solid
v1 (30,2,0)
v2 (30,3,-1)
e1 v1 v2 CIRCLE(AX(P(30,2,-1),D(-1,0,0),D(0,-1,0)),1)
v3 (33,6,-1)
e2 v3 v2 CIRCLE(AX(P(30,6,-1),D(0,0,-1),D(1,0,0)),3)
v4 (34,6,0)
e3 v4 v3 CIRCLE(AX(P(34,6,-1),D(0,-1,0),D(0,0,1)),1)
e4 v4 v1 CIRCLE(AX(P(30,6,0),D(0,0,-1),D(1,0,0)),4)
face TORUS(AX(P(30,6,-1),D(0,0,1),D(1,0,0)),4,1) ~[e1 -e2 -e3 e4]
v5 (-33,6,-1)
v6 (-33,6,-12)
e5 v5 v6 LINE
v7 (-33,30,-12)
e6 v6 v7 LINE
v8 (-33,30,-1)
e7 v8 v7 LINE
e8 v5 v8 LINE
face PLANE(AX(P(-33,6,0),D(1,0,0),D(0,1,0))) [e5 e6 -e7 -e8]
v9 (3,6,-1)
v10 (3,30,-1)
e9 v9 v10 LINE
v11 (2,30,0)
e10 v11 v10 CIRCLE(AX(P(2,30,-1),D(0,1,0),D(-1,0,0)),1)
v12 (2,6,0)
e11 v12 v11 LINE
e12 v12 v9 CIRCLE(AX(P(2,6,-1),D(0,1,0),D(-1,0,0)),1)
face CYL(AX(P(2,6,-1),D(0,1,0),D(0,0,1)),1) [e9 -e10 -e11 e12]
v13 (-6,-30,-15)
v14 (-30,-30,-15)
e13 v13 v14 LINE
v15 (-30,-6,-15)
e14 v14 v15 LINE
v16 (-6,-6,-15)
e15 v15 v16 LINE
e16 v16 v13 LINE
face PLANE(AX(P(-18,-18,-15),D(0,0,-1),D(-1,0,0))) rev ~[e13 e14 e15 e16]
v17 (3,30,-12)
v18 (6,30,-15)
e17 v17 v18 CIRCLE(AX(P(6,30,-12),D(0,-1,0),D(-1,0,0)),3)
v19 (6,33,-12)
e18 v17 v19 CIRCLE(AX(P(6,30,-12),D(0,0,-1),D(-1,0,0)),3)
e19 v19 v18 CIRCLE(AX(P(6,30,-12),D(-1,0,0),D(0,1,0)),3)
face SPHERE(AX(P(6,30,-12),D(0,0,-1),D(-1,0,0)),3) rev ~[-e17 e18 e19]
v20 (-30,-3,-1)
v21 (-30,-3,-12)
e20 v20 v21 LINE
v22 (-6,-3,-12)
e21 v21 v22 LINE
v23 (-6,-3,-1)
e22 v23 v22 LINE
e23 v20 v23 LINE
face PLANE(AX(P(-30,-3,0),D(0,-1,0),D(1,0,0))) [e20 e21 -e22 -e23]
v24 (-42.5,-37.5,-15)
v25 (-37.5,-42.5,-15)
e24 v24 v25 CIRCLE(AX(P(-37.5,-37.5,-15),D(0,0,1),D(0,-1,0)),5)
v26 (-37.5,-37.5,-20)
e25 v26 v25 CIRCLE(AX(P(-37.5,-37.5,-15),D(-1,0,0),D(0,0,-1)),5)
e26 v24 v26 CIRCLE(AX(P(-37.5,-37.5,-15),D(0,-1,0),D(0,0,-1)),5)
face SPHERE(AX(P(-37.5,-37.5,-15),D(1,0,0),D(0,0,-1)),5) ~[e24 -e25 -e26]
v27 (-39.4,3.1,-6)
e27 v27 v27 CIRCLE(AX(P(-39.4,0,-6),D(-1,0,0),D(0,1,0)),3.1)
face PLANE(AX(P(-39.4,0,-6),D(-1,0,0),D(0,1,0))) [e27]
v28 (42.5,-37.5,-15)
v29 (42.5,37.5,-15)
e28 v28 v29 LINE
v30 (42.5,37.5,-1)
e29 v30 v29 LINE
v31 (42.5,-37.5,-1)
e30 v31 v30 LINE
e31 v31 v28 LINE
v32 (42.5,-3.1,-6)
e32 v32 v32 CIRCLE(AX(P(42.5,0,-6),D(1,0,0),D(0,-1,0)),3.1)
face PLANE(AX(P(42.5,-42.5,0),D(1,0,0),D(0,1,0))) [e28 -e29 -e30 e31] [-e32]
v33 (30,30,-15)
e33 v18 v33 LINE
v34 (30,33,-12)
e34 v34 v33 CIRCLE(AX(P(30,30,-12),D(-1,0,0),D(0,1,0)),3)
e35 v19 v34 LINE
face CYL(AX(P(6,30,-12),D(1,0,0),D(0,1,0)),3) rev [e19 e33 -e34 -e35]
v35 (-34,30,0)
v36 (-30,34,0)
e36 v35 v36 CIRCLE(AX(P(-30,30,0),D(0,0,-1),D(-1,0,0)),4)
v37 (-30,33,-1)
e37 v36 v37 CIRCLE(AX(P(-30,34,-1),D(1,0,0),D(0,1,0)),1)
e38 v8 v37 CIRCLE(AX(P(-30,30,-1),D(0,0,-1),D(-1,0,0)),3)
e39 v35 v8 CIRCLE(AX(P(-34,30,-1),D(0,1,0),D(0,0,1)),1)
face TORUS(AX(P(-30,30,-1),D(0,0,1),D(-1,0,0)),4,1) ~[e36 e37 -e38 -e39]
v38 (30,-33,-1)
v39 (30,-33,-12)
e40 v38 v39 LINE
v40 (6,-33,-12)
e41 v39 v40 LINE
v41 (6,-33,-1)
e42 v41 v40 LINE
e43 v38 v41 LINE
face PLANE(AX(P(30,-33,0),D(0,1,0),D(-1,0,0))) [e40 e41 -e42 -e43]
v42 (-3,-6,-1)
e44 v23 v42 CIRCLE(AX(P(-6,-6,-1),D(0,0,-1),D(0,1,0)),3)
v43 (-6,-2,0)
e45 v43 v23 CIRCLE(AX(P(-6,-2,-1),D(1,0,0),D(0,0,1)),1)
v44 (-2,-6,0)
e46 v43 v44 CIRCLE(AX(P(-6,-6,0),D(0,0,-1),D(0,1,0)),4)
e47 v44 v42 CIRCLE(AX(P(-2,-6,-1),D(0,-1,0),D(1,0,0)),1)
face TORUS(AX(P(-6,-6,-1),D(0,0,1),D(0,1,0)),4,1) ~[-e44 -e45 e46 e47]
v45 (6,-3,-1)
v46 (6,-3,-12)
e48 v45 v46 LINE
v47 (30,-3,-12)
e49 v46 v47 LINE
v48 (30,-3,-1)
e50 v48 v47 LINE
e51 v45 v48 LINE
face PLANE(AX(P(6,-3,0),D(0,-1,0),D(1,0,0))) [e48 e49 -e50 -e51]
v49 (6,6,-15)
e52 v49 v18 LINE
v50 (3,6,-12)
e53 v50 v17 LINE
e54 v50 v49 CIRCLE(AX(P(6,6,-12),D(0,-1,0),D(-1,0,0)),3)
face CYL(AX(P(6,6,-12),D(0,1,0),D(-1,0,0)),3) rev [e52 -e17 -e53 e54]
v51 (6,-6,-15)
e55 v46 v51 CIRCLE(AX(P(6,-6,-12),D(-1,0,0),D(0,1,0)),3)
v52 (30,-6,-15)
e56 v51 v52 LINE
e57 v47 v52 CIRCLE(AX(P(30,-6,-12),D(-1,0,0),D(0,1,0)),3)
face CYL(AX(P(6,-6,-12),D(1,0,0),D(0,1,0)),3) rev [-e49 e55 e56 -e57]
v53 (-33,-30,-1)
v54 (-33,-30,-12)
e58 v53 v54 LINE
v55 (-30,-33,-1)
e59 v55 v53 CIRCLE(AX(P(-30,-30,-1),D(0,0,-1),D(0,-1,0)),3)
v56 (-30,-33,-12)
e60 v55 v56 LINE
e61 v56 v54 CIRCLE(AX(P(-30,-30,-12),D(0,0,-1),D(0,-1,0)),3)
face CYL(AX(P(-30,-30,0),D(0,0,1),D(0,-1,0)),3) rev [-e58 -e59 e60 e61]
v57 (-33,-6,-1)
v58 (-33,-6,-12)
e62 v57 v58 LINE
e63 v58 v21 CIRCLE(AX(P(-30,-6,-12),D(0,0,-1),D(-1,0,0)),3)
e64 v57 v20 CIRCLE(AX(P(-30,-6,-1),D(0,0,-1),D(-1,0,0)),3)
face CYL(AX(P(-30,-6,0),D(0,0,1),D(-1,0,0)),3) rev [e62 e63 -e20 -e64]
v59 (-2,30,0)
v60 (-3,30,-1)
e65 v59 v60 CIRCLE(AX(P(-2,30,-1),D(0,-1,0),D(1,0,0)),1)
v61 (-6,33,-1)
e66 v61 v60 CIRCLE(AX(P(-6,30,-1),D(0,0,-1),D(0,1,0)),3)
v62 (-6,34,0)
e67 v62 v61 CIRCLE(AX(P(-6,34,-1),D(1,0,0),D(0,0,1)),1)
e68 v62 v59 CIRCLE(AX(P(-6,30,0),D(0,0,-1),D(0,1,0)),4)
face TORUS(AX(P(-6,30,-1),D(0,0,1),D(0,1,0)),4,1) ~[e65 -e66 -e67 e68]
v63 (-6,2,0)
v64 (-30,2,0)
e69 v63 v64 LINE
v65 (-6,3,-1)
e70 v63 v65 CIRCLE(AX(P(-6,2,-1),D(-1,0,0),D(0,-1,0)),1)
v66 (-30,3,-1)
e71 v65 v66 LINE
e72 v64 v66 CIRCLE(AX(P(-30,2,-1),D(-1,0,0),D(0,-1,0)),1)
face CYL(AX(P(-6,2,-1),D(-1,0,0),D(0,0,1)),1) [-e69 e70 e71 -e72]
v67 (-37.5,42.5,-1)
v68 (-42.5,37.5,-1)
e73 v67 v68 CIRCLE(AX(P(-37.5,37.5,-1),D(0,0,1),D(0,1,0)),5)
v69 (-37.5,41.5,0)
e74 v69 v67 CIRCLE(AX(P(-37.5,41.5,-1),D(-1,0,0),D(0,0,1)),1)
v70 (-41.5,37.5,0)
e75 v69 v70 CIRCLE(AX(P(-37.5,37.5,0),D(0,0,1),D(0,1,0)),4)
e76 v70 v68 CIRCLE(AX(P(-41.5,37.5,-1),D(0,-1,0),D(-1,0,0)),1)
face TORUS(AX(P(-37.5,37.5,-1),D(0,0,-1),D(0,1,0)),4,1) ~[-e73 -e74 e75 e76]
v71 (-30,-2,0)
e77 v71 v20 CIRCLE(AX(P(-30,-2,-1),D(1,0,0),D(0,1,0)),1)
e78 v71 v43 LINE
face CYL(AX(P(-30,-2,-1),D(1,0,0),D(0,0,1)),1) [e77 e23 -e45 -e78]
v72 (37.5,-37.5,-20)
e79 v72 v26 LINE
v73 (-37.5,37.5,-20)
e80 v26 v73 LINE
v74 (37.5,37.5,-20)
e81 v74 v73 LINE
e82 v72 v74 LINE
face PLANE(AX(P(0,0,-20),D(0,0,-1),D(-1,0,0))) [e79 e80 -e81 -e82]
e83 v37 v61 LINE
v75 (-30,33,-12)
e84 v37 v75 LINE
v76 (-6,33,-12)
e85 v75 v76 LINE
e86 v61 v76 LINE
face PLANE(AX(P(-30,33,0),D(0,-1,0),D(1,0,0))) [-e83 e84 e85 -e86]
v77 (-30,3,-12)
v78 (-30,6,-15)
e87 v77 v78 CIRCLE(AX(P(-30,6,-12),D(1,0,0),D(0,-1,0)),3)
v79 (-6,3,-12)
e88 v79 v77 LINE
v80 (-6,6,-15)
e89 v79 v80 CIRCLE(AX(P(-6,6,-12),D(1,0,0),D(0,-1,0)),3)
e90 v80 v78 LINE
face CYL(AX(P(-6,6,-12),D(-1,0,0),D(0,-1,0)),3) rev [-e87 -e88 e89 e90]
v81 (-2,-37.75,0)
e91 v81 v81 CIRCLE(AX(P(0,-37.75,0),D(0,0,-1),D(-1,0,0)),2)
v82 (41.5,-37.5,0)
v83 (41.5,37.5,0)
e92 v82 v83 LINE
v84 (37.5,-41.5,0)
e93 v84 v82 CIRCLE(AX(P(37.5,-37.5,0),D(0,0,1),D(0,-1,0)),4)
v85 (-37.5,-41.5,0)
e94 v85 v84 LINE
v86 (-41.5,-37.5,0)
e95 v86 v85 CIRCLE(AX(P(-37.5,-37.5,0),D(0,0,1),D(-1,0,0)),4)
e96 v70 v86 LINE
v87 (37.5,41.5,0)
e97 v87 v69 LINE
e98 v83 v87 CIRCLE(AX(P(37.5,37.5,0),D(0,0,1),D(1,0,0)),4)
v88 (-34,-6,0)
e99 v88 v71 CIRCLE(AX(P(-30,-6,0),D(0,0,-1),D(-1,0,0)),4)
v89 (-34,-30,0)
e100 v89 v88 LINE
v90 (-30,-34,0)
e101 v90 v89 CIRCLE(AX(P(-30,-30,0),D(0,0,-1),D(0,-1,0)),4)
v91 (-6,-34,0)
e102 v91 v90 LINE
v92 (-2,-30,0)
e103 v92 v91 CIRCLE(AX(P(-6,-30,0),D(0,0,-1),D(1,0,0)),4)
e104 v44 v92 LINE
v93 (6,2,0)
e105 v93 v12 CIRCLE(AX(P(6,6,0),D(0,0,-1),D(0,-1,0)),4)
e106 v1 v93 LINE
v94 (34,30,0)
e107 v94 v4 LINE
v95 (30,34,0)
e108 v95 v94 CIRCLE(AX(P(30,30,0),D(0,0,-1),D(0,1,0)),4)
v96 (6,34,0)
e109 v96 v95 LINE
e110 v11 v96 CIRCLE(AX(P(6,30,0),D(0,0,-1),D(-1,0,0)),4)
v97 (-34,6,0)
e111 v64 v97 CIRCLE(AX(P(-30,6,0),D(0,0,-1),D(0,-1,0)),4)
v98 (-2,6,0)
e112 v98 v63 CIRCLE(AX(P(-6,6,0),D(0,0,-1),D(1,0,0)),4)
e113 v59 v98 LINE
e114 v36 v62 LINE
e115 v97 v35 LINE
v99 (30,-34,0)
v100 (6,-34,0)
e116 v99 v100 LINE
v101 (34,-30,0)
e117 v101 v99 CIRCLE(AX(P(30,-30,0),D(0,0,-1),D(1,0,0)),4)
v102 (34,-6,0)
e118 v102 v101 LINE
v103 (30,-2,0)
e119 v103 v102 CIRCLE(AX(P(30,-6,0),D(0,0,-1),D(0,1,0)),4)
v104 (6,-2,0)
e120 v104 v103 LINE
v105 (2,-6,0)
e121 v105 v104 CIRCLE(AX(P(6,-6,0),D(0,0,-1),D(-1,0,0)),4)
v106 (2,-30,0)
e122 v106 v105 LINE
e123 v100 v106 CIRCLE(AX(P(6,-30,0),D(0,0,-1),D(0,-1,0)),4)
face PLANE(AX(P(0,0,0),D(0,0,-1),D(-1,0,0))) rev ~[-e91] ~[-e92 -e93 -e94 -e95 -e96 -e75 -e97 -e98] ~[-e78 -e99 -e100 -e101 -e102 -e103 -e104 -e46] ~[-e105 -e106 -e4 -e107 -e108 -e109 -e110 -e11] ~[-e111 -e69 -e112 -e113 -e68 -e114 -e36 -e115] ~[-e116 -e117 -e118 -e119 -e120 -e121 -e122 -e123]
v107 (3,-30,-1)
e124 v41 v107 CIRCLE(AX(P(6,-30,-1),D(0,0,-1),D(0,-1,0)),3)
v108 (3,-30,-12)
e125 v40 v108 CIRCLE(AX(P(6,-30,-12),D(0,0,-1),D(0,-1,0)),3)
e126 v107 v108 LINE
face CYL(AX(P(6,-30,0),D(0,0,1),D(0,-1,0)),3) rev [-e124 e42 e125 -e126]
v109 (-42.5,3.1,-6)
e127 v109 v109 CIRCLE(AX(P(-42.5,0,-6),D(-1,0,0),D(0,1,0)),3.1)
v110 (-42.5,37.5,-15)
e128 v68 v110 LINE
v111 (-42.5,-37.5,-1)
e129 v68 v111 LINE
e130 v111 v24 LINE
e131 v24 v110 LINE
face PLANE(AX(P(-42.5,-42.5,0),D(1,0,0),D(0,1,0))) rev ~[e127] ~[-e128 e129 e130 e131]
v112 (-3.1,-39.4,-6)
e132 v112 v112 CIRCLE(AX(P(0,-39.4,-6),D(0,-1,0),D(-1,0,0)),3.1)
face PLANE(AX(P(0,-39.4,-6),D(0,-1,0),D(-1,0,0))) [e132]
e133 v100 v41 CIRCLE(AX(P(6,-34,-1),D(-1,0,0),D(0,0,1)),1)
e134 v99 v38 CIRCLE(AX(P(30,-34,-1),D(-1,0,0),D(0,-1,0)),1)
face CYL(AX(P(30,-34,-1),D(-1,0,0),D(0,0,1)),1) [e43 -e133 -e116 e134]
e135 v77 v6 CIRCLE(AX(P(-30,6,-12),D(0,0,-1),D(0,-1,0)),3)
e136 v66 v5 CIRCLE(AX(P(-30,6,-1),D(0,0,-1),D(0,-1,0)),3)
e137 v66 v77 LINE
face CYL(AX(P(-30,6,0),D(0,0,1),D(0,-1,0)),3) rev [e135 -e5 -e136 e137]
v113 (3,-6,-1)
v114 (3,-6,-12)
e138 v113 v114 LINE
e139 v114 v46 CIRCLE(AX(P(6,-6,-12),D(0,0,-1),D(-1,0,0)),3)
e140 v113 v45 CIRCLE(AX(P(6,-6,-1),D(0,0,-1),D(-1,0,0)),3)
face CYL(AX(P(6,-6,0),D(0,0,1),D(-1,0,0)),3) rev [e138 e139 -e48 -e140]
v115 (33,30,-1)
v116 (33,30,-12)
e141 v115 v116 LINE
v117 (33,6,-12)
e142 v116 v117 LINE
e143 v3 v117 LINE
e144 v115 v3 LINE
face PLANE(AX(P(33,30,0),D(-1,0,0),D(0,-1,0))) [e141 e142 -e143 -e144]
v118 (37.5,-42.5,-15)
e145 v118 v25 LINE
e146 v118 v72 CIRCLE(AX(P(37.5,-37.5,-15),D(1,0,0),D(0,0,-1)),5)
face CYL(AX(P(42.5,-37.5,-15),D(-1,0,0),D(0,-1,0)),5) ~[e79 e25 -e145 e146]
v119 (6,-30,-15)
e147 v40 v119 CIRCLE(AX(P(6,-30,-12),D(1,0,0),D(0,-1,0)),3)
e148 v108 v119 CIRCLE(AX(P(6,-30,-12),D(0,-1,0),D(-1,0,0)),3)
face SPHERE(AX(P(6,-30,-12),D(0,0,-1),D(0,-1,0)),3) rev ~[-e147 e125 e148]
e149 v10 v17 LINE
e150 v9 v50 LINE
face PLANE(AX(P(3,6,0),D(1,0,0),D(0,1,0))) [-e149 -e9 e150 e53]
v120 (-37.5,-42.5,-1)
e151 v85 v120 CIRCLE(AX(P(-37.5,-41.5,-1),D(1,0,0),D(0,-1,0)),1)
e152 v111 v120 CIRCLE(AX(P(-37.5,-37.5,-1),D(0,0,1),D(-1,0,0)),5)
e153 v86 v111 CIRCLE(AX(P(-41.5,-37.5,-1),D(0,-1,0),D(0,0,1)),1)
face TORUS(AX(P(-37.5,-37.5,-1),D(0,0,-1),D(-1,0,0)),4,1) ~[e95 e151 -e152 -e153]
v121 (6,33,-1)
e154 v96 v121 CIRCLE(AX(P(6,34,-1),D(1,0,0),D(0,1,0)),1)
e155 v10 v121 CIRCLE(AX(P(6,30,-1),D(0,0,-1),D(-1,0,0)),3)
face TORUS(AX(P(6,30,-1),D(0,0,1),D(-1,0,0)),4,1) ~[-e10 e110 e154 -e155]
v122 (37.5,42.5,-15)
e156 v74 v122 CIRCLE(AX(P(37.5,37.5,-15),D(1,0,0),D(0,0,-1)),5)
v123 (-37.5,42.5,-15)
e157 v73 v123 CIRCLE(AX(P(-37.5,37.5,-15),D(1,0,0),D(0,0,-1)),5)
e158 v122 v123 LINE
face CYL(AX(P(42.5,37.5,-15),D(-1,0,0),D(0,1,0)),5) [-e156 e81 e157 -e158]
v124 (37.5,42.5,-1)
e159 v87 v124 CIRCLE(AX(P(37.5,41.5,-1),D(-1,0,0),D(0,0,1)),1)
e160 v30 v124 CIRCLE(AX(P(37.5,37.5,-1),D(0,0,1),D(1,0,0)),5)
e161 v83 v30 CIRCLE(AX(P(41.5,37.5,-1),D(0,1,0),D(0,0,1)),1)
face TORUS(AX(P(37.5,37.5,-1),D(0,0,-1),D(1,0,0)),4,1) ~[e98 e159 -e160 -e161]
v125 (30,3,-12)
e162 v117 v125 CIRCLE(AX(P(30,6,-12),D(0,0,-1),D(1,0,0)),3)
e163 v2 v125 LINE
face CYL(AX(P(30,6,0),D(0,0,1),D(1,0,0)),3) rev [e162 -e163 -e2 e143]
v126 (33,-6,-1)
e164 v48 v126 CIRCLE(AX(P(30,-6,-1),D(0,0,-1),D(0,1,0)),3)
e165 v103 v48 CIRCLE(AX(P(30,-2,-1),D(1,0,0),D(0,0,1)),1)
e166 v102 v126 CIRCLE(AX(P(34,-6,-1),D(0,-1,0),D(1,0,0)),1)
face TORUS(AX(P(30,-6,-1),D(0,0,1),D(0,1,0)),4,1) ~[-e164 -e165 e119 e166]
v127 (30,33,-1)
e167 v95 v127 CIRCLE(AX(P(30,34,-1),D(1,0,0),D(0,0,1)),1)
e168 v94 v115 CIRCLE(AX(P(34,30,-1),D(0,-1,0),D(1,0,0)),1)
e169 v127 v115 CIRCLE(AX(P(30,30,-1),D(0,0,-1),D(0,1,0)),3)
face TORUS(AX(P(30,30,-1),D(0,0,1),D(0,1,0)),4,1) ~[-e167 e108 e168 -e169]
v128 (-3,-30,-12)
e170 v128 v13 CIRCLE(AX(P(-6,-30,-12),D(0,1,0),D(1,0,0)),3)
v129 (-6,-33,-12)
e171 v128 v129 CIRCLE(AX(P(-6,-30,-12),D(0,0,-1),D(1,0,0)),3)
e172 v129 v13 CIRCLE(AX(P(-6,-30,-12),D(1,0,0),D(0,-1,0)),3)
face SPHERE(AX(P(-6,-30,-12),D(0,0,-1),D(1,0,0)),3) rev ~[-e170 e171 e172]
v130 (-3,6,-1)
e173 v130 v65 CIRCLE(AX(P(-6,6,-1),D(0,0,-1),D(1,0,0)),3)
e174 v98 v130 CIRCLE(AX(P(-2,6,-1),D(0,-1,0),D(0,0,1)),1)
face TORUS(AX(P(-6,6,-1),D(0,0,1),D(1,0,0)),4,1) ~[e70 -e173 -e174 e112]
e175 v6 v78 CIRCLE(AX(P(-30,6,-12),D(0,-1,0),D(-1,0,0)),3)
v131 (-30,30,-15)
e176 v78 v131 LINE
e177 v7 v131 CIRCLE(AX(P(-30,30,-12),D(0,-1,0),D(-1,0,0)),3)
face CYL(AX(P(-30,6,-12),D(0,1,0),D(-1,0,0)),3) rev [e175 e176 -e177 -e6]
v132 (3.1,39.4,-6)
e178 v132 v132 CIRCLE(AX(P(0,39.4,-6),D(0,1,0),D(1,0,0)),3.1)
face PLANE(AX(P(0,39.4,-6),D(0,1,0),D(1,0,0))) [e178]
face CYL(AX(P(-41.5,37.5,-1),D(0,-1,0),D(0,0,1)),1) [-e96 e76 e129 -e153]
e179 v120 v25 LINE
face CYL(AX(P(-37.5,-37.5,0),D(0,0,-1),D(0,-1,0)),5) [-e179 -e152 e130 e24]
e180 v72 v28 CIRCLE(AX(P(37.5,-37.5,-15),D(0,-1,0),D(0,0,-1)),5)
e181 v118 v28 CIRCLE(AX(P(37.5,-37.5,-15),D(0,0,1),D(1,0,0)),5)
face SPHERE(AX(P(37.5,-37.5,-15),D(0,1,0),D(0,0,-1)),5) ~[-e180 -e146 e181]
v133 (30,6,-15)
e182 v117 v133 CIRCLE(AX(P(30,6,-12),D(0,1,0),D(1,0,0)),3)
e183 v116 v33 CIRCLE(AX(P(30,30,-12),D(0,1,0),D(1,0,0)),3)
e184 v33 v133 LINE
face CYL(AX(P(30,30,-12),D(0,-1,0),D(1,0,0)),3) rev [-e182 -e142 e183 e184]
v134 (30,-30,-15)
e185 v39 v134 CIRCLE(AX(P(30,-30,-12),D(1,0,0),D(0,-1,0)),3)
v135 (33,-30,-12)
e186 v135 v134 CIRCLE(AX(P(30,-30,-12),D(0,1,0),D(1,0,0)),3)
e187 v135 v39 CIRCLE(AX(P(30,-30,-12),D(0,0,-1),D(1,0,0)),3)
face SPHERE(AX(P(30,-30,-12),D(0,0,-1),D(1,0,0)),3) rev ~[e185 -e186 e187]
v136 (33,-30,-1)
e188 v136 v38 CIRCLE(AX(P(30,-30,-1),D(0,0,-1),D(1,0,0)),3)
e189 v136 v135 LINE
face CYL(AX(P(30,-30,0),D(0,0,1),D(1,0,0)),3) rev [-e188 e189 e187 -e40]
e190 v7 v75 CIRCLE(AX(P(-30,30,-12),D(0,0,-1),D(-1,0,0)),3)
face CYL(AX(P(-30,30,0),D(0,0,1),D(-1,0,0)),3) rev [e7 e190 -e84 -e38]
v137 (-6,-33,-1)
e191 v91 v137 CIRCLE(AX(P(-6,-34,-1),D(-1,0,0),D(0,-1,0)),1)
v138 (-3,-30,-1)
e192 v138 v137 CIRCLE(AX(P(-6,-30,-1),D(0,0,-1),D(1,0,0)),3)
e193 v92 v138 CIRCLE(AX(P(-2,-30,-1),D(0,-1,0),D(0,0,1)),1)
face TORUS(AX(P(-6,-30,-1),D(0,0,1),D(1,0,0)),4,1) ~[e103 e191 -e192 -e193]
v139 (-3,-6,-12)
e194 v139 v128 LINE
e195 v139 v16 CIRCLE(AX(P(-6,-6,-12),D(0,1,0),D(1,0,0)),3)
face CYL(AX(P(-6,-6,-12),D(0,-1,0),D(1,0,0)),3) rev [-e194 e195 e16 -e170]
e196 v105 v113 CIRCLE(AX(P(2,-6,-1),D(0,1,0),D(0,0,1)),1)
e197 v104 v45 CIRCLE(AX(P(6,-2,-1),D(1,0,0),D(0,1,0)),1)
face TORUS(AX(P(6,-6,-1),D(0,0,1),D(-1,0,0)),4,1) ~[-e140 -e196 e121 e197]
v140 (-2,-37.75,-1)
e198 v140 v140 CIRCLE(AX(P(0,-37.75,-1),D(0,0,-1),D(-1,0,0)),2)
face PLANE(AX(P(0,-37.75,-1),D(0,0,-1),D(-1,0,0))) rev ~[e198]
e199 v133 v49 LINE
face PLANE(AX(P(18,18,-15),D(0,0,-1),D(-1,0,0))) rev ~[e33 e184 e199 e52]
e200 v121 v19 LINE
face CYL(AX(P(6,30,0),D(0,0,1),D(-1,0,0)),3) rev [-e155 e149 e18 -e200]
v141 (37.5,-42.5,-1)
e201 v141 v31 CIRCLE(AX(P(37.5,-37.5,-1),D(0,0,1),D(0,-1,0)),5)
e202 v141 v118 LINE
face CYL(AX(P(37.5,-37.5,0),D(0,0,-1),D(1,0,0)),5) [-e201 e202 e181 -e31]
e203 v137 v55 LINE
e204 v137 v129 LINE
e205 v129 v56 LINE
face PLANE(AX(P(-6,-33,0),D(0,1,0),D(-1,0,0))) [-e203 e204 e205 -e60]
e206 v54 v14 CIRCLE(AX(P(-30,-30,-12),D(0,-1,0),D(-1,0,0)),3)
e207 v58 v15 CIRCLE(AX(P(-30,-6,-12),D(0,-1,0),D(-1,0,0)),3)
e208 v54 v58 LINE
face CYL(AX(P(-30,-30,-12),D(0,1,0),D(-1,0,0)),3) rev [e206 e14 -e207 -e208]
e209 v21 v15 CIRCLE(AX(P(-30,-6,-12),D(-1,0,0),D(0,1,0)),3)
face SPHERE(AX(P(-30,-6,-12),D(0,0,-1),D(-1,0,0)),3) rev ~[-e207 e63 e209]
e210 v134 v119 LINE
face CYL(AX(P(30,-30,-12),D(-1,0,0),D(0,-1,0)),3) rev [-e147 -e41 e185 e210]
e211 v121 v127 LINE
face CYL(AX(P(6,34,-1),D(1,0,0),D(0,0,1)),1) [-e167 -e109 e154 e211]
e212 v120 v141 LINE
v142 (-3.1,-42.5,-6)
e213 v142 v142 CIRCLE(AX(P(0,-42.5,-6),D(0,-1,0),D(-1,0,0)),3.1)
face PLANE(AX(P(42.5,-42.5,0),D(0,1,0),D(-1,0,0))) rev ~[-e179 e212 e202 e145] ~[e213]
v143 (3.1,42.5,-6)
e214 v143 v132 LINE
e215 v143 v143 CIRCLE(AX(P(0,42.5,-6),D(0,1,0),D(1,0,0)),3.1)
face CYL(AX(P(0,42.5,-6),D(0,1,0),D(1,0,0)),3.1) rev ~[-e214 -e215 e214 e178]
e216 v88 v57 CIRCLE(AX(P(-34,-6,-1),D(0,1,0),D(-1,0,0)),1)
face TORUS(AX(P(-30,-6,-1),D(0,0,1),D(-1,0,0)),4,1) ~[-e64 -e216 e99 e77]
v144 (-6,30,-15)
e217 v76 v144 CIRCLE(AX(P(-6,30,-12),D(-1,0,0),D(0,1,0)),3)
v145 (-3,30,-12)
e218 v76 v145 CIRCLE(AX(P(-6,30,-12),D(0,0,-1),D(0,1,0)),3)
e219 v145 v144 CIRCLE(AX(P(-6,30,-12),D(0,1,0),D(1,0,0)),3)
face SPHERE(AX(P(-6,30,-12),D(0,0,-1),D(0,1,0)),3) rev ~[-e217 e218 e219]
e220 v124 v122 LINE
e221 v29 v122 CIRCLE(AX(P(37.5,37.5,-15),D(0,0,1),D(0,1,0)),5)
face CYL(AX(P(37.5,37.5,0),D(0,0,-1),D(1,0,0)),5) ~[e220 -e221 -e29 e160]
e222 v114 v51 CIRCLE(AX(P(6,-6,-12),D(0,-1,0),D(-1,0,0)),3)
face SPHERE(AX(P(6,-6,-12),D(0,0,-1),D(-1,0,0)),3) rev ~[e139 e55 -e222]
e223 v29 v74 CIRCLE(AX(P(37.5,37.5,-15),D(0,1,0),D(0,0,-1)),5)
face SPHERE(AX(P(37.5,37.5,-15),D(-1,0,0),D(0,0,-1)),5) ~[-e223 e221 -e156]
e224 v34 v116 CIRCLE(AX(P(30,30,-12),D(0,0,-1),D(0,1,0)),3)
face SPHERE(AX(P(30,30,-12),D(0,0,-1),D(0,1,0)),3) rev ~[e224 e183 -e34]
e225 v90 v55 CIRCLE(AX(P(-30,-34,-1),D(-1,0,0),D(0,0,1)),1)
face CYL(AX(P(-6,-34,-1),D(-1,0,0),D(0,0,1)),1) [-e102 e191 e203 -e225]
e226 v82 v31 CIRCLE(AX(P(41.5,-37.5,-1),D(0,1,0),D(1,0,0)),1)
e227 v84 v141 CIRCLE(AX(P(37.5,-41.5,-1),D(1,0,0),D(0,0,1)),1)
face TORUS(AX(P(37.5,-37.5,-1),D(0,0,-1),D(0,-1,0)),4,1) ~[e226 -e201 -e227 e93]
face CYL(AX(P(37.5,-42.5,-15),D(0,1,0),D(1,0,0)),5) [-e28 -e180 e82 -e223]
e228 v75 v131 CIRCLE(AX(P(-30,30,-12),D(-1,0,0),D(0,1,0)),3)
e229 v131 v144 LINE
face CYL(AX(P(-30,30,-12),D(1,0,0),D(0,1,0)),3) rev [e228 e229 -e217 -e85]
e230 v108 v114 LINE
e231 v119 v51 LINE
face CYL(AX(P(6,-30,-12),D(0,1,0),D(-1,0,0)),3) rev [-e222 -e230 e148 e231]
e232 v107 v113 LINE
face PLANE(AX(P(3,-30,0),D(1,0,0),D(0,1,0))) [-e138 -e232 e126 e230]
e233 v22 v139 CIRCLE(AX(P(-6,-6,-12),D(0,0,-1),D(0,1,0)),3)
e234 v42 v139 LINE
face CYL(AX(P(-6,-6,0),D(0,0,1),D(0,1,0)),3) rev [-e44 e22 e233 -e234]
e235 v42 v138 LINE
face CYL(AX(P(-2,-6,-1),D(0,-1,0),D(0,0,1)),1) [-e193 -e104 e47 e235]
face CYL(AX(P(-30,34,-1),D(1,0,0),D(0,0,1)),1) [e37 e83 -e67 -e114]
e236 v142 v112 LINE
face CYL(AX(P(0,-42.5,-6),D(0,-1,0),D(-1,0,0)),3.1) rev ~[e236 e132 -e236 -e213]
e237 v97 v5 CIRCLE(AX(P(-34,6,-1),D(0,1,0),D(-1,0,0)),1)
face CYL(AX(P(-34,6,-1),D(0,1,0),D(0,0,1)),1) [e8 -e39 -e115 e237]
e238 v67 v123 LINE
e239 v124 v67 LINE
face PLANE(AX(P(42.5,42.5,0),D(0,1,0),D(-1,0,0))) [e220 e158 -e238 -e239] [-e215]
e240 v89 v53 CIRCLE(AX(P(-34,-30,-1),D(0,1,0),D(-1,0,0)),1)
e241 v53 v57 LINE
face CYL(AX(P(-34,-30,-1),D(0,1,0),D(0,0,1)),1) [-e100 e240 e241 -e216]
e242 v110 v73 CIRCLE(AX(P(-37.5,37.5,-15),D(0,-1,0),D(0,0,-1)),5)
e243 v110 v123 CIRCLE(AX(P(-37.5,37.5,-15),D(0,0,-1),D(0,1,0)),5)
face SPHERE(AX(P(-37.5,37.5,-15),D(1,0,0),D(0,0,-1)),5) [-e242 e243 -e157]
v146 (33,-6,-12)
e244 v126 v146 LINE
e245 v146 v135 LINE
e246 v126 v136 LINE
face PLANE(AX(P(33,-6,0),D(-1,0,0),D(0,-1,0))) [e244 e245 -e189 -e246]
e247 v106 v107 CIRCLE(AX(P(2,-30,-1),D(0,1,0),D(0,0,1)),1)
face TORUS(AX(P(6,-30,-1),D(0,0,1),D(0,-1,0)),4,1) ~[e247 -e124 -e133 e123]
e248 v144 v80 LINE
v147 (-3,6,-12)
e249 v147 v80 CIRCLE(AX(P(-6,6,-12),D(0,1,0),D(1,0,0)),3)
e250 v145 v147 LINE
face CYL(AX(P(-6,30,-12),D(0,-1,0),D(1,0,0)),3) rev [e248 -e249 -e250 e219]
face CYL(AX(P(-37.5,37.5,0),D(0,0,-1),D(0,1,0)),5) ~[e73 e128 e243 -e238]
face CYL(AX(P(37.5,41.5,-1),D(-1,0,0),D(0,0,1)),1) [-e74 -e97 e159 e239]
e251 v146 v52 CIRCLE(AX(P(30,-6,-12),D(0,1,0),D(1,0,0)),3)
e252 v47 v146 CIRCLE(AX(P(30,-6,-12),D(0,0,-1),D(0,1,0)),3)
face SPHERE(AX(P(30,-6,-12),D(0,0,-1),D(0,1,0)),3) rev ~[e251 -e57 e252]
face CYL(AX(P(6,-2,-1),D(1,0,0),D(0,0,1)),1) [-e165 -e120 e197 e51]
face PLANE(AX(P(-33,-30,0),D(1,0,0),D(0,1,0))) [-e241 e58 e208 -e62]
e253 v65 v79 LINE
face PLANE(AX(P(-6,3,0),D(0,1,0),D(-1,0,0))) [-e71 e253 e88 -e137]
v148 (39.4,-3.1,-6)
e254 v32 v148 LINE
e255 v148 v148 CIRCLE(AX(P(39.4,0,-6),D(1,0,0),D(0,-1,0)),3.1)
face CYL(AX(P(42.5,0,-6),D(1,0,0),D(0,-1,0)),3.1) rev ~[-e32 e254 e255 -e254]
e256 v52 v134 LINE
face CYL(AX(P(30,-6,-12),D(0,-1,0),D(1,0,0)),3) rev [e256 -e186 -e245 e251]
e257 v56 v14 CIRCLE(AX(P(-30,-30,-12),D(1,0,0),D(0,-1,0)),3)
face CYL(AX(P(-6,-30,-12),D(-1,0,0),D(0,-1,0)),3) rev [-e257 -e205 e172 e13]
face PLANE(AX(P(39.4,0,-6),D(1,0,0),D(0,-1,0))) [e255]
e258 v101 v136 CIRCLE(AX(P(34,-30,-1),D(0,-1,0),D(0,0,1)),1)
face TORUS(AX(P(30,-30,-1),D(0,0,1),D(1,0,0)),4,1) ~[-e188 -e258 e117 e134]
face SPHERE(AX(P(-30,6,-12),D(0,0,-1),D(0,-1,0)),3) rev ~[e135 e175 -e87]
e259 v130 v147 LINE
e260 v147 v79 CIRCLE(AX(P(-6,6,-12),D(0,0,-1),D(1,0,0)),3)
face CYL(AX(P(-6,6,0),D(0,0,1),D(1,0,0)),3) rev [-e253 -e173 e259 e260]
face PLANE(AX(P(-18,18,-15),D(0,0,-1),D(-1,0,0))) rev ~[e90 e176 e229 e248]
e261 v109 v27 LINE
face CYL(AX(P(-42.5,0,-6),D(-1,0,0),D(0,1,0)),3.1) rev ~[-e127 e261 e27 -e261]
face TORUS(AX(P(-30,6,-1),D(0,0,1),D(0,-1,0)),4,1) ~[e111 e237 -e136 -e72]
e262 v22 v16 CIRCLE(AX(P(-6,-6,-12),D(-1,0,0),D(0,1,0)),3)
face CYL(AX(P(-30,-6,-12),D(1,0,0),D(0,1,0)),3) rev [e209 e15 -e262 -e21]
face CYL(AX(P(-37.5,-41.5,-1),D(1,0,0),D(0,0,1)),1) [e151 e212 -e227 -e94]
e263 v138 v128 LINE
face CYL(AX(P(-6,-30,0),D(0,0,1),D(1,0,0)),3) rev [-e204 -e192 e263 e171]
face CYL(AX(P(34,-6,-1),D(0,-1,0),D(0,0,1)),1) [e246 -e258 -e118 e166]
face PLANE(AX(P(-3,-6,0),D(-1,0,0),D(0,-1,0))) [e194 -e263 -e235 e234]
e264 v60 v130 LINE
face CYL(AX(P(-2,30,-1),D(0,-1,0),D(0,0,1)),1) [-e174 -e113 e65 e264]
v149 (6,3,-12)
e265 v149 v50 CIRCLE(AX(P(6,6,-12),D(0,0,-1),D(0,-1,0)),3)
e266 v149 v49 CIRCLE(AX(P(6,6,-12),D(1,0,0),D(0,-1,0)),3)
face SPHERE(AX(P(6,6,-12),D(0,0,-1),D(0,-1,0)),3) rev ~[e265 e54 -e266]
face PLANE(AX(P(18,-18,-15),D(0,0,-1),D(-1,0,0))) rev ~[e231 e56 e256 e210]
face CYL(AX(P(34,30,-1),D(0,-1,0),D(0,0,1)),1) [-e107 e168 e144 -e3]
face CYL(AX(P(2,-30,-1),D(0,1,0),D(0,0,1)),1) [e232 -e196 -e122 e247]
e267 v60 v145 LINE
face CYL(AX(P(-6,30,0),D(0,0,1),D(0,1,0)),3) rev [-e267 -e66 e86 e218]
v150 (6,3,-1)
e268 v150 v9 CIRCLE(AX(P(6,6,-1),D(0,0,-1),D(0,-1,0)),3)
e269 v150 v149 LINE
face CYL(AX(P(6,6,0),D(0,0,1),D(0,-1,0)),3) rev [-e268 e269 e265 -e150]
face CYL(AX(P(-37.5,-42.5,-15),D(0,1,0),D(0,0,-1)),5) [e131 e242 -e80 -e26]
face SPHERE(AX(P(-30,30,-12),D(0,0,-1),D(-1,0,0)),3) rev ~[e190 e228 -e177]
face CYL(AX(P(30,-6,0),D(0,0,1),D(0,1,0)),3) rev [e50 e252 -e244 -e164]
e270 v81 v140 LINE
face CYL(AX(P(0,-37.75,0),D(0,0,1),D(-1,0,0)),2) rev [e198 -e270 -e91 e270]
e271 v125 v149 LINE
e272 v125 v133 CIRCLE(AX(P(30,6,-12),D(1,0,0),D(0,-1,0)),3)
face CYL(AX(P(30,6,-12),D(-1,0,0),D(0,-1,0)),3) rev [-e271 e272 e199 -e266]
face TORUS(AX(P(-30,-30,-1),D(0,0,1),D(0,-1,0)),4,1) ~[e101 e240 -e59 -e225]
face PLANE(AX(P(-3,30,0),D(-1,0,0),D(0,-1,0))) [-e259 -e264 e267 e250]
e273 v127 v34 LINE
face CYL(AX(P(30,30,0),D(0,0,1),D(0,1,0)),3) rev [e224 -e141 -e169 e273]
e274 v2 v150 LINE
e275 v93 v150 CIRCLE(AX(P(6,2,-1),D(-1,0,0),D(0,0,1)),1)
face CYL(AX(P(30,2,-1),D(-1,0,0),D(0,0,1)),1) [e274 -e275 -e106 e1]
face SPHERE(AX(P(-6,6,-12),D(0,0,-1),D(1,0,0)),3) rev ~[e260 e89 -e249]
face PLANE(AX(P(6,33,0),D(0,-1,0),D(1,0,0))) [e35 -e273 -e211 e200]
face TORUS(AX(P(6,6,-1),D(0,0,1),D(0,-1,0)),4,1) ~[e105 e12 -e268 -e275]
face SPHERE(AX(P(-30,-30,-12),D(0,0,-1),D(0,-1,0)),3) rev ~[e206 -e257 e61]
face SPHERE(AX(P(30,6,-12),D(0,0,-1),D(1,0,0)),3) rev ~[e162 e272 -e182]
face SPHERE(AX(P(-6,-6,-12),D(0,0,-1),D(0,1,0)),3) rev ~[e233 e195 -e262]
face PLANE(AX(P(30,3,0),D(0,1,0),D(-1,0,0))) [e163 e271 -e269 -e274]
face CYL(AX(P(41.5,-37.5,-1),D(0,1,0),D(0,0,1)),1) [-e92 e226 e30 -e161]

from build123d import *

# Parameters (mm, degrees)
F0_W      = 85
F0_H      = 85
F0_R      = 2
F1_DEPTH  = 20
F2_DEPTH  = 15
F3_R      = 5
F4_R      = 3
F5_R      = 1
F6_R      = 3.1
F7_DEPTH  = 3.1
F8_R      = 3.1
F9_DEPTH  = 3.1
F10_R     = 3.1
F11_DEPTH = 3.1
F12_R     = 3.1
F13_DEPTH = 3.1
F14_DEPTH = 1
F15_ANGLE = 180


with BuildPart() as f1:
    # F0 (on Top) → F1 (new body)
    with BuildSketch(Plane.XY):
        Rectangle(F0_W, F0_H)
        with BuildLine():
            ThreePointArc((-33, -6), (-32.1213203436, -3.8786796564), (-30, -3))
            Line((-30, -3), (-6, -3))
            ThreePointArc((-6, -3), (-3.8786796564, -3.8786796564), (-3, -6))
            Line((-3, -6), (-3, -30))
            ThreePointArc((-3, -30), (-3.8786796564, -32.1213203436), (-6, -33))
            Line((-6, -33), (-30, -33))
            ThreePointArc((-30, -33), (-32.1213203436, -32.1213203436), (-33, -30))
            Line((-33, -30), (-33, -6))
        make_face(mode=Mode.SUBTRACT)
        with Locations((0, -37.75)):
            Circle(F0_R, mode=Mode.SUBTRACT)
        with BuildLine():
            Line((6, -3), (30, -3))
            ThreePointArc((30, -3), (32.1213203436, -3.8786796564), (33, -6))
            Line((33, -6), (33, -30))
            ThreePointArc((33, -30), (32.1213203436, -32.1213203436), (30, -33))
            Line((30, -33), (6, -33))
            ThreePointArc((6, -33), (3.8786796564, -32.1213203436), (3, -30))
            Line((3, -30), (3, -6))
            ThreePointArc((3, -6), (3.8786796564, -3.8786796564), (6, -3))
        make_face(mode=Mode.SUBTRACT)
        with BuildLine():
            ThreePointArc((-33, 30), (-32.1213203436, 32.1213203436), (-30, 33))
            Line((-30, 33), (-6, 33))
            ThreePointArc((-6, 33), (-3.8786796564, 32.1213203436), (-3, 30))
            Line((-3, 30), (-3, 6))
            ThreePointArc((-3, 6), (-3.8786796564, 3.8786796564), (-6, 3))
            Line((-6, 3), (-30, 3))
            ThreePointArc((-30, 3), (-32.1213203436, 3.8786796564), (-33, 6))
            Line((-33, 6), (-33, 30))
        make_face(mode=Mode.SUBTRACT)
        with BuildLine():
            ThreePointArc((30, 33), (32.1213203436, 32.1213203436), (33, 30))
            Line((33, 30), (33, 6))
            ThreePointArc((33, 6), (32.1213203436, 3.8786796564), (30, 3))
            Line((30, 3), (6, 3))
            ThreePointArc((6, 3), (3.8786796564, 3.8786796564), (3, 6))
            Line((3, 6), (3, 30))
            ThreePointArc((3, 30), (3.8786796564, 32.1213203436), (6, 33))
            Line((6, 33), (30, 33))
        make_face(mode=Mode.SUBTRACT)
        with BuildLine():
            Line((-6, 33), (-30, 33))
            ThreePointArc((-30, 33), (-32.1213203436, 32.1213203436), (-33, 30))
            Line((-33, 30), (-33, 6))
            ThreePointArc((-33, 6), (-32.1213203436, 3.8786796564), (-30, 3))
            Line((-30, 3), (-6, 3))
            ThreePointArc((-6, 3), (-3.8786796564, 3.8786796564), (-3, 6))
            Line((-3, 6), (-3, 30))
            ThreePointArc((-3, 30), (-3.8786796564, 32.1213203436), (-6, 33))
        make_face()
        with BuildLine():
            Line((33, 6), (33, 30))
            ThreePointArc((33, 30), (32.1213203436, 32.1213203436), (30, 33))
            Line((30, 33), (6, 33))
            ThreePointArc((6, 33), (3.8786796564, 32.1213203436), (3, 30))
            Line((3, 30), (3, 6))
            ThreePointArc((3, 6), (3.8786796564, 3.8786796564), (6, 3))
            Line((6, 3), (30, 3))
            ThreePointArc((30, 3), (32.1213203436, 3.8786796564), (33, 6))
        make_face()
        with BuildLine():
            ThreePointArc((33, -6), (32.1213203436, -3.8786796564), (30, -3))
            Line((30, -3), (6, -3))
            ThreePointArc((6, -3), (3.8786796564, -3.8786796564), (3, -6))
            Line((3, -6), (3, -30))
            ThreePointArc((3, -30), (3.8786796564, -32.1213203436), (6, -33))
            Line((6, -33), (30, -33))
            ThreePointArc((30, -33), (32.1213203436, -32.1213203436), (33, -30))
            Line((33, -30), (33, -6))
        make_face()
        with BuildLine():
            Line((-6, -3), (-30, -3))
            ThreePointArc((-30, -3), (-32.1213203436, -3.8786796564), (-33, -6))
            Line((-33, -6), (-33, -30))
            ThreePointArc((-33, -30), (-32.1213203436, -32.1213203436), (-30, -33))
            Line((-30, -33), (-6, -33))
            ThreePointArc((-6, -33), (-3.8786796564, -32.1213203436), (-3, -30))
            Line((-3, -30), (-3, -6))
            ThreePointArc((-3, -6), (-3.8786796564, -3.8786796564), (-6, -3))
        make_face()
        with Locations((0, -37.75)):
            Circle(F0_R)
    extrude(amount=F1_DEPTH)

    # F0 (on Top) → F2 (cut)
    with BuildSketch(Plane.XY):
        with BuildLine():
            Line((-6, 33), (-30, 33))
            ThreePointArc((-30, 33), (-32.1213203436, 32.1213203436), (-33, 30))
            Line((-33, 30), (-33, 6))
            ThreePointArc((-33, 6), (-32.1213203436, 3.8786796564), (-30, 3))
            Line((-30, 3), (-6, 3))
            ThreePointArc((-6, 3), (-3.8786796564, 3.8786796564), (-3, 6))
            Line((-3, 6), (-3, 30))
            ThreePointArc((-3, 30), (-3.8786796564, 32.1213203436), (-6, 33))
        make_face()
        with BuildLine():
            Line((-6, -3), (-30, -3))
            ThreePointArc((-30, -3), (-32.1213203436, -3.8786796564), (-33, -6))
            Line((-33, -6), (-33, -30))
            ThreePointArc((-33, -30), (-32.1213203436, -32.1213203436), (-30, -33))
            Line((-30, -33), (-6, -33))
            ThreePointArc((-6, -33), (-3.8786796564, -32.1213203436), (-3, -30))
            Line((-3, -30), (-3, -6))
            ThreePointArc((-3, -6), (-3.8786796564, -3.8786796564), (-6, -3))
        make_face()
        with BuildLine():
            ThreePointArc((33, -6), (32.1213203436, -3.8786796564), (30, -3))
            Line((30, -3), (6, -3))
            ThreePointArc((6, -3), (3.8786796564, -3.8786796564), (3, -6))
            Line((3, -6), (3, -30))
            ThreePointArc((3, -30), (3.8786796564, -32.1213203436), (6, -33))
            Line((6, -33), (30, -33))
            ThreePointArc((30, -33), (32.1213203436, -32.1213203436), (33, -30))
            Line((33, -30), (33, -6))
        make_face()
        with BuildLine():
            Line((33, 6), (33, 30))
            ThreePointArc((33, 30), (32.1213203436, 32.1213203436), (30, 33))
            Line((30, 33), (6, 33))
            ThreePointArc((6, 33), (3.8786796564, 32.1213203436), (3, 30))
            Line((3, 30), (3, 6))
            ThreePointArc((3, 6), (3.8786796564, 3.8786796564), (6, 3))
            Line((6, 3), (30, 3))
            ThreePointArc((30, 3), (32.1213203436, 3.8786796564), (33, 6))
        make_face()
    extrude(amount=F2_DEPTH, mode=Mode.SUBTRACT)

    # F3
    f3_edges = [f1.edges().sort_by_distance(p)[0] for p in [
        (0, 42.5, 20),
        (-42.5, 0, 20),
        (0, -42.5, 20),
        (42.5, 0, 20),
        (42.5, 42.5, 10),
        (-42.5, 42.5, 10),
        (-42.5, -42.5, 10),
        (42.5, -42.5, 10),
    ]]
    fillet(f3_edges, radius=F3_R)

    # F4
    f4_edges = [f1.edges().sort_by_distance(p)[0] for p in [
        (-3.87868, 32.12132, 15),
        (-18, 33, 15),
        (-32.12132, 32.12132, 15),
        (-33, 18, 15),
        (-32.12132, 3.87868, 15),
        (-18, 3, 15),
        (-3.87868, 3.87868, 15),
        (-3, 18, 15),
        (-3, -18, 15),
        (-3.87868, -3.87868, 15),
        (-18, -3, 15),
        (-32.12132, -3.87868, 15),
        (-33, -18, 15),
        (-32.12132, -32.12132, 15),
        (-18, -33, 15),
        (-3.87868, -32.12132, 15),
        (32.12132, -3.87868, 15),
        (18, -3, 15),
        (3.87868, -3.87868, 15),
        (3, -18, 15),
        (3.87868, -32.12132, 15),
        (18, -33, 15),
        (32.12132, -32.12132, 15),
        (33, -18, 15),
        (32.12132, 3.87868, 15),
        (33, 18, 15),
        (32.12132, 32.12132, 15),
        (18, 33, 15),
        (3.87868, 32.12132, 15),
        (3, 18, 15),
        (3.87868, 3.87868, 15),
        (18, 3, 15),
    ]]
    fillet(f4_edges, radius=F4_R)

    # F5
    f5_edges = [f1.edges().sort_by_distance(p)[0] for p in [
        (0, 42.5, 0),
        (41.035534, 41.035534, 0),
        (-41.035534, 41.035534, 0),
        (42.5, 0, 0),
        (-42.5, 0, 0),
        (41.035534, -41.035534, 0),
        (-41.035534, -41.035534, 0),
        (0, -42.5, 0),
        (-3, -18, 0),
        (-3.87868, -3.87868, 0),
        (-18, -3, 0),
        (-32.12132, -3.87868, 0),
        (-33, -18, 0),
        (-32.12132, -32.12132, 0),
        (-18, -33, 0),
        (-3.87868, -32.12132, 0),
        (32.12132, -3.87868, 0),
        (18, -3, 0),
        (3.87868, -3.87868, 0),
        (3, -18, 0),
        (3.87868, -32.12132, 0),
        (18, -33, 0),
        (32.12132, -32.12132, 0),
        (33, -18, 0),
        (-3.87868, 32.12132, 0),
        (-18, 33, 0),
        (-32.12132, 32.12132, 0),
        (-33, 18, 0),
        (-32.12132, 3.87868, 0),
        (-18, 3, 0),
        (-3.87868, 3.87868, 0),
        (-3, 18, 0),
        (32.12132, 3.87868, 0),
        (33, 18, 0),
        (32.12132, 32.12132, 0),
        (18, 33, 0),
        (3.87868, 32.12132, 0),
        (3, 18, 0),
        (3.87868, 3.87868, 0),
        (18, 3, 0),
    ]]
    fillet(f5_edges, radius=F5_R)

    # F6 (on face) → F7 (cut)
    with BuildSketch(Plane.XZ.offset(42.5)):
        with Locations((0, 6)):
            Circle(F6_R)
    extrude(amount=-F7_DEPTH, mode=Mode.SUBTRACT)

    # F8 (on face) → F9 (cut)
    with BuildSketch(Plane(origin=(0, 42.5, 0), x_dir=(-1, 0, 0), z_dir=(0, 1, 0))):
        with Locations((0, 6)):
            Circle(F8_R)
    extrude(amount=-F9_DEPTH, mode=Mode.SUBTRACT)

    # F10 (on face) → F11 (cut)
    with BuildSketch(Plane(origin=(-42.5, 0, 0), x_dir=(0, -1, 0), z_dir=(-1, 0, 0))):
        with Locations((0, 6)):
            Circle(F10_R)
    extrude(amount=-F11_DEPTH, mode=Mode.SUBTRACT)

    # F12 (on face) → F13 (cut)
    with BuildSketch(Plane.YZ.offset(42.5)):
        with Locations((0, 6)):
            Circle(F12_R)
    extrude(amount=-F13_DEPTH, mode=Mode.SUBTRACT)

    # F0 (on Top) → F14 (cut)
    with BuildSketch(Plane.XY):
        with Locations((0, -37.75)):
            Circle(F0_R)
    extrude(amount=F14_DEPTH, mode=Mode.SUBTRACT)


with BuildPart() as f1_1:
    # F15: moved
    add(f1.part.rotate(Axis((0, 0, 0), (0, 1, 0)), F15_ANGLE))


solid = f1_1.part
